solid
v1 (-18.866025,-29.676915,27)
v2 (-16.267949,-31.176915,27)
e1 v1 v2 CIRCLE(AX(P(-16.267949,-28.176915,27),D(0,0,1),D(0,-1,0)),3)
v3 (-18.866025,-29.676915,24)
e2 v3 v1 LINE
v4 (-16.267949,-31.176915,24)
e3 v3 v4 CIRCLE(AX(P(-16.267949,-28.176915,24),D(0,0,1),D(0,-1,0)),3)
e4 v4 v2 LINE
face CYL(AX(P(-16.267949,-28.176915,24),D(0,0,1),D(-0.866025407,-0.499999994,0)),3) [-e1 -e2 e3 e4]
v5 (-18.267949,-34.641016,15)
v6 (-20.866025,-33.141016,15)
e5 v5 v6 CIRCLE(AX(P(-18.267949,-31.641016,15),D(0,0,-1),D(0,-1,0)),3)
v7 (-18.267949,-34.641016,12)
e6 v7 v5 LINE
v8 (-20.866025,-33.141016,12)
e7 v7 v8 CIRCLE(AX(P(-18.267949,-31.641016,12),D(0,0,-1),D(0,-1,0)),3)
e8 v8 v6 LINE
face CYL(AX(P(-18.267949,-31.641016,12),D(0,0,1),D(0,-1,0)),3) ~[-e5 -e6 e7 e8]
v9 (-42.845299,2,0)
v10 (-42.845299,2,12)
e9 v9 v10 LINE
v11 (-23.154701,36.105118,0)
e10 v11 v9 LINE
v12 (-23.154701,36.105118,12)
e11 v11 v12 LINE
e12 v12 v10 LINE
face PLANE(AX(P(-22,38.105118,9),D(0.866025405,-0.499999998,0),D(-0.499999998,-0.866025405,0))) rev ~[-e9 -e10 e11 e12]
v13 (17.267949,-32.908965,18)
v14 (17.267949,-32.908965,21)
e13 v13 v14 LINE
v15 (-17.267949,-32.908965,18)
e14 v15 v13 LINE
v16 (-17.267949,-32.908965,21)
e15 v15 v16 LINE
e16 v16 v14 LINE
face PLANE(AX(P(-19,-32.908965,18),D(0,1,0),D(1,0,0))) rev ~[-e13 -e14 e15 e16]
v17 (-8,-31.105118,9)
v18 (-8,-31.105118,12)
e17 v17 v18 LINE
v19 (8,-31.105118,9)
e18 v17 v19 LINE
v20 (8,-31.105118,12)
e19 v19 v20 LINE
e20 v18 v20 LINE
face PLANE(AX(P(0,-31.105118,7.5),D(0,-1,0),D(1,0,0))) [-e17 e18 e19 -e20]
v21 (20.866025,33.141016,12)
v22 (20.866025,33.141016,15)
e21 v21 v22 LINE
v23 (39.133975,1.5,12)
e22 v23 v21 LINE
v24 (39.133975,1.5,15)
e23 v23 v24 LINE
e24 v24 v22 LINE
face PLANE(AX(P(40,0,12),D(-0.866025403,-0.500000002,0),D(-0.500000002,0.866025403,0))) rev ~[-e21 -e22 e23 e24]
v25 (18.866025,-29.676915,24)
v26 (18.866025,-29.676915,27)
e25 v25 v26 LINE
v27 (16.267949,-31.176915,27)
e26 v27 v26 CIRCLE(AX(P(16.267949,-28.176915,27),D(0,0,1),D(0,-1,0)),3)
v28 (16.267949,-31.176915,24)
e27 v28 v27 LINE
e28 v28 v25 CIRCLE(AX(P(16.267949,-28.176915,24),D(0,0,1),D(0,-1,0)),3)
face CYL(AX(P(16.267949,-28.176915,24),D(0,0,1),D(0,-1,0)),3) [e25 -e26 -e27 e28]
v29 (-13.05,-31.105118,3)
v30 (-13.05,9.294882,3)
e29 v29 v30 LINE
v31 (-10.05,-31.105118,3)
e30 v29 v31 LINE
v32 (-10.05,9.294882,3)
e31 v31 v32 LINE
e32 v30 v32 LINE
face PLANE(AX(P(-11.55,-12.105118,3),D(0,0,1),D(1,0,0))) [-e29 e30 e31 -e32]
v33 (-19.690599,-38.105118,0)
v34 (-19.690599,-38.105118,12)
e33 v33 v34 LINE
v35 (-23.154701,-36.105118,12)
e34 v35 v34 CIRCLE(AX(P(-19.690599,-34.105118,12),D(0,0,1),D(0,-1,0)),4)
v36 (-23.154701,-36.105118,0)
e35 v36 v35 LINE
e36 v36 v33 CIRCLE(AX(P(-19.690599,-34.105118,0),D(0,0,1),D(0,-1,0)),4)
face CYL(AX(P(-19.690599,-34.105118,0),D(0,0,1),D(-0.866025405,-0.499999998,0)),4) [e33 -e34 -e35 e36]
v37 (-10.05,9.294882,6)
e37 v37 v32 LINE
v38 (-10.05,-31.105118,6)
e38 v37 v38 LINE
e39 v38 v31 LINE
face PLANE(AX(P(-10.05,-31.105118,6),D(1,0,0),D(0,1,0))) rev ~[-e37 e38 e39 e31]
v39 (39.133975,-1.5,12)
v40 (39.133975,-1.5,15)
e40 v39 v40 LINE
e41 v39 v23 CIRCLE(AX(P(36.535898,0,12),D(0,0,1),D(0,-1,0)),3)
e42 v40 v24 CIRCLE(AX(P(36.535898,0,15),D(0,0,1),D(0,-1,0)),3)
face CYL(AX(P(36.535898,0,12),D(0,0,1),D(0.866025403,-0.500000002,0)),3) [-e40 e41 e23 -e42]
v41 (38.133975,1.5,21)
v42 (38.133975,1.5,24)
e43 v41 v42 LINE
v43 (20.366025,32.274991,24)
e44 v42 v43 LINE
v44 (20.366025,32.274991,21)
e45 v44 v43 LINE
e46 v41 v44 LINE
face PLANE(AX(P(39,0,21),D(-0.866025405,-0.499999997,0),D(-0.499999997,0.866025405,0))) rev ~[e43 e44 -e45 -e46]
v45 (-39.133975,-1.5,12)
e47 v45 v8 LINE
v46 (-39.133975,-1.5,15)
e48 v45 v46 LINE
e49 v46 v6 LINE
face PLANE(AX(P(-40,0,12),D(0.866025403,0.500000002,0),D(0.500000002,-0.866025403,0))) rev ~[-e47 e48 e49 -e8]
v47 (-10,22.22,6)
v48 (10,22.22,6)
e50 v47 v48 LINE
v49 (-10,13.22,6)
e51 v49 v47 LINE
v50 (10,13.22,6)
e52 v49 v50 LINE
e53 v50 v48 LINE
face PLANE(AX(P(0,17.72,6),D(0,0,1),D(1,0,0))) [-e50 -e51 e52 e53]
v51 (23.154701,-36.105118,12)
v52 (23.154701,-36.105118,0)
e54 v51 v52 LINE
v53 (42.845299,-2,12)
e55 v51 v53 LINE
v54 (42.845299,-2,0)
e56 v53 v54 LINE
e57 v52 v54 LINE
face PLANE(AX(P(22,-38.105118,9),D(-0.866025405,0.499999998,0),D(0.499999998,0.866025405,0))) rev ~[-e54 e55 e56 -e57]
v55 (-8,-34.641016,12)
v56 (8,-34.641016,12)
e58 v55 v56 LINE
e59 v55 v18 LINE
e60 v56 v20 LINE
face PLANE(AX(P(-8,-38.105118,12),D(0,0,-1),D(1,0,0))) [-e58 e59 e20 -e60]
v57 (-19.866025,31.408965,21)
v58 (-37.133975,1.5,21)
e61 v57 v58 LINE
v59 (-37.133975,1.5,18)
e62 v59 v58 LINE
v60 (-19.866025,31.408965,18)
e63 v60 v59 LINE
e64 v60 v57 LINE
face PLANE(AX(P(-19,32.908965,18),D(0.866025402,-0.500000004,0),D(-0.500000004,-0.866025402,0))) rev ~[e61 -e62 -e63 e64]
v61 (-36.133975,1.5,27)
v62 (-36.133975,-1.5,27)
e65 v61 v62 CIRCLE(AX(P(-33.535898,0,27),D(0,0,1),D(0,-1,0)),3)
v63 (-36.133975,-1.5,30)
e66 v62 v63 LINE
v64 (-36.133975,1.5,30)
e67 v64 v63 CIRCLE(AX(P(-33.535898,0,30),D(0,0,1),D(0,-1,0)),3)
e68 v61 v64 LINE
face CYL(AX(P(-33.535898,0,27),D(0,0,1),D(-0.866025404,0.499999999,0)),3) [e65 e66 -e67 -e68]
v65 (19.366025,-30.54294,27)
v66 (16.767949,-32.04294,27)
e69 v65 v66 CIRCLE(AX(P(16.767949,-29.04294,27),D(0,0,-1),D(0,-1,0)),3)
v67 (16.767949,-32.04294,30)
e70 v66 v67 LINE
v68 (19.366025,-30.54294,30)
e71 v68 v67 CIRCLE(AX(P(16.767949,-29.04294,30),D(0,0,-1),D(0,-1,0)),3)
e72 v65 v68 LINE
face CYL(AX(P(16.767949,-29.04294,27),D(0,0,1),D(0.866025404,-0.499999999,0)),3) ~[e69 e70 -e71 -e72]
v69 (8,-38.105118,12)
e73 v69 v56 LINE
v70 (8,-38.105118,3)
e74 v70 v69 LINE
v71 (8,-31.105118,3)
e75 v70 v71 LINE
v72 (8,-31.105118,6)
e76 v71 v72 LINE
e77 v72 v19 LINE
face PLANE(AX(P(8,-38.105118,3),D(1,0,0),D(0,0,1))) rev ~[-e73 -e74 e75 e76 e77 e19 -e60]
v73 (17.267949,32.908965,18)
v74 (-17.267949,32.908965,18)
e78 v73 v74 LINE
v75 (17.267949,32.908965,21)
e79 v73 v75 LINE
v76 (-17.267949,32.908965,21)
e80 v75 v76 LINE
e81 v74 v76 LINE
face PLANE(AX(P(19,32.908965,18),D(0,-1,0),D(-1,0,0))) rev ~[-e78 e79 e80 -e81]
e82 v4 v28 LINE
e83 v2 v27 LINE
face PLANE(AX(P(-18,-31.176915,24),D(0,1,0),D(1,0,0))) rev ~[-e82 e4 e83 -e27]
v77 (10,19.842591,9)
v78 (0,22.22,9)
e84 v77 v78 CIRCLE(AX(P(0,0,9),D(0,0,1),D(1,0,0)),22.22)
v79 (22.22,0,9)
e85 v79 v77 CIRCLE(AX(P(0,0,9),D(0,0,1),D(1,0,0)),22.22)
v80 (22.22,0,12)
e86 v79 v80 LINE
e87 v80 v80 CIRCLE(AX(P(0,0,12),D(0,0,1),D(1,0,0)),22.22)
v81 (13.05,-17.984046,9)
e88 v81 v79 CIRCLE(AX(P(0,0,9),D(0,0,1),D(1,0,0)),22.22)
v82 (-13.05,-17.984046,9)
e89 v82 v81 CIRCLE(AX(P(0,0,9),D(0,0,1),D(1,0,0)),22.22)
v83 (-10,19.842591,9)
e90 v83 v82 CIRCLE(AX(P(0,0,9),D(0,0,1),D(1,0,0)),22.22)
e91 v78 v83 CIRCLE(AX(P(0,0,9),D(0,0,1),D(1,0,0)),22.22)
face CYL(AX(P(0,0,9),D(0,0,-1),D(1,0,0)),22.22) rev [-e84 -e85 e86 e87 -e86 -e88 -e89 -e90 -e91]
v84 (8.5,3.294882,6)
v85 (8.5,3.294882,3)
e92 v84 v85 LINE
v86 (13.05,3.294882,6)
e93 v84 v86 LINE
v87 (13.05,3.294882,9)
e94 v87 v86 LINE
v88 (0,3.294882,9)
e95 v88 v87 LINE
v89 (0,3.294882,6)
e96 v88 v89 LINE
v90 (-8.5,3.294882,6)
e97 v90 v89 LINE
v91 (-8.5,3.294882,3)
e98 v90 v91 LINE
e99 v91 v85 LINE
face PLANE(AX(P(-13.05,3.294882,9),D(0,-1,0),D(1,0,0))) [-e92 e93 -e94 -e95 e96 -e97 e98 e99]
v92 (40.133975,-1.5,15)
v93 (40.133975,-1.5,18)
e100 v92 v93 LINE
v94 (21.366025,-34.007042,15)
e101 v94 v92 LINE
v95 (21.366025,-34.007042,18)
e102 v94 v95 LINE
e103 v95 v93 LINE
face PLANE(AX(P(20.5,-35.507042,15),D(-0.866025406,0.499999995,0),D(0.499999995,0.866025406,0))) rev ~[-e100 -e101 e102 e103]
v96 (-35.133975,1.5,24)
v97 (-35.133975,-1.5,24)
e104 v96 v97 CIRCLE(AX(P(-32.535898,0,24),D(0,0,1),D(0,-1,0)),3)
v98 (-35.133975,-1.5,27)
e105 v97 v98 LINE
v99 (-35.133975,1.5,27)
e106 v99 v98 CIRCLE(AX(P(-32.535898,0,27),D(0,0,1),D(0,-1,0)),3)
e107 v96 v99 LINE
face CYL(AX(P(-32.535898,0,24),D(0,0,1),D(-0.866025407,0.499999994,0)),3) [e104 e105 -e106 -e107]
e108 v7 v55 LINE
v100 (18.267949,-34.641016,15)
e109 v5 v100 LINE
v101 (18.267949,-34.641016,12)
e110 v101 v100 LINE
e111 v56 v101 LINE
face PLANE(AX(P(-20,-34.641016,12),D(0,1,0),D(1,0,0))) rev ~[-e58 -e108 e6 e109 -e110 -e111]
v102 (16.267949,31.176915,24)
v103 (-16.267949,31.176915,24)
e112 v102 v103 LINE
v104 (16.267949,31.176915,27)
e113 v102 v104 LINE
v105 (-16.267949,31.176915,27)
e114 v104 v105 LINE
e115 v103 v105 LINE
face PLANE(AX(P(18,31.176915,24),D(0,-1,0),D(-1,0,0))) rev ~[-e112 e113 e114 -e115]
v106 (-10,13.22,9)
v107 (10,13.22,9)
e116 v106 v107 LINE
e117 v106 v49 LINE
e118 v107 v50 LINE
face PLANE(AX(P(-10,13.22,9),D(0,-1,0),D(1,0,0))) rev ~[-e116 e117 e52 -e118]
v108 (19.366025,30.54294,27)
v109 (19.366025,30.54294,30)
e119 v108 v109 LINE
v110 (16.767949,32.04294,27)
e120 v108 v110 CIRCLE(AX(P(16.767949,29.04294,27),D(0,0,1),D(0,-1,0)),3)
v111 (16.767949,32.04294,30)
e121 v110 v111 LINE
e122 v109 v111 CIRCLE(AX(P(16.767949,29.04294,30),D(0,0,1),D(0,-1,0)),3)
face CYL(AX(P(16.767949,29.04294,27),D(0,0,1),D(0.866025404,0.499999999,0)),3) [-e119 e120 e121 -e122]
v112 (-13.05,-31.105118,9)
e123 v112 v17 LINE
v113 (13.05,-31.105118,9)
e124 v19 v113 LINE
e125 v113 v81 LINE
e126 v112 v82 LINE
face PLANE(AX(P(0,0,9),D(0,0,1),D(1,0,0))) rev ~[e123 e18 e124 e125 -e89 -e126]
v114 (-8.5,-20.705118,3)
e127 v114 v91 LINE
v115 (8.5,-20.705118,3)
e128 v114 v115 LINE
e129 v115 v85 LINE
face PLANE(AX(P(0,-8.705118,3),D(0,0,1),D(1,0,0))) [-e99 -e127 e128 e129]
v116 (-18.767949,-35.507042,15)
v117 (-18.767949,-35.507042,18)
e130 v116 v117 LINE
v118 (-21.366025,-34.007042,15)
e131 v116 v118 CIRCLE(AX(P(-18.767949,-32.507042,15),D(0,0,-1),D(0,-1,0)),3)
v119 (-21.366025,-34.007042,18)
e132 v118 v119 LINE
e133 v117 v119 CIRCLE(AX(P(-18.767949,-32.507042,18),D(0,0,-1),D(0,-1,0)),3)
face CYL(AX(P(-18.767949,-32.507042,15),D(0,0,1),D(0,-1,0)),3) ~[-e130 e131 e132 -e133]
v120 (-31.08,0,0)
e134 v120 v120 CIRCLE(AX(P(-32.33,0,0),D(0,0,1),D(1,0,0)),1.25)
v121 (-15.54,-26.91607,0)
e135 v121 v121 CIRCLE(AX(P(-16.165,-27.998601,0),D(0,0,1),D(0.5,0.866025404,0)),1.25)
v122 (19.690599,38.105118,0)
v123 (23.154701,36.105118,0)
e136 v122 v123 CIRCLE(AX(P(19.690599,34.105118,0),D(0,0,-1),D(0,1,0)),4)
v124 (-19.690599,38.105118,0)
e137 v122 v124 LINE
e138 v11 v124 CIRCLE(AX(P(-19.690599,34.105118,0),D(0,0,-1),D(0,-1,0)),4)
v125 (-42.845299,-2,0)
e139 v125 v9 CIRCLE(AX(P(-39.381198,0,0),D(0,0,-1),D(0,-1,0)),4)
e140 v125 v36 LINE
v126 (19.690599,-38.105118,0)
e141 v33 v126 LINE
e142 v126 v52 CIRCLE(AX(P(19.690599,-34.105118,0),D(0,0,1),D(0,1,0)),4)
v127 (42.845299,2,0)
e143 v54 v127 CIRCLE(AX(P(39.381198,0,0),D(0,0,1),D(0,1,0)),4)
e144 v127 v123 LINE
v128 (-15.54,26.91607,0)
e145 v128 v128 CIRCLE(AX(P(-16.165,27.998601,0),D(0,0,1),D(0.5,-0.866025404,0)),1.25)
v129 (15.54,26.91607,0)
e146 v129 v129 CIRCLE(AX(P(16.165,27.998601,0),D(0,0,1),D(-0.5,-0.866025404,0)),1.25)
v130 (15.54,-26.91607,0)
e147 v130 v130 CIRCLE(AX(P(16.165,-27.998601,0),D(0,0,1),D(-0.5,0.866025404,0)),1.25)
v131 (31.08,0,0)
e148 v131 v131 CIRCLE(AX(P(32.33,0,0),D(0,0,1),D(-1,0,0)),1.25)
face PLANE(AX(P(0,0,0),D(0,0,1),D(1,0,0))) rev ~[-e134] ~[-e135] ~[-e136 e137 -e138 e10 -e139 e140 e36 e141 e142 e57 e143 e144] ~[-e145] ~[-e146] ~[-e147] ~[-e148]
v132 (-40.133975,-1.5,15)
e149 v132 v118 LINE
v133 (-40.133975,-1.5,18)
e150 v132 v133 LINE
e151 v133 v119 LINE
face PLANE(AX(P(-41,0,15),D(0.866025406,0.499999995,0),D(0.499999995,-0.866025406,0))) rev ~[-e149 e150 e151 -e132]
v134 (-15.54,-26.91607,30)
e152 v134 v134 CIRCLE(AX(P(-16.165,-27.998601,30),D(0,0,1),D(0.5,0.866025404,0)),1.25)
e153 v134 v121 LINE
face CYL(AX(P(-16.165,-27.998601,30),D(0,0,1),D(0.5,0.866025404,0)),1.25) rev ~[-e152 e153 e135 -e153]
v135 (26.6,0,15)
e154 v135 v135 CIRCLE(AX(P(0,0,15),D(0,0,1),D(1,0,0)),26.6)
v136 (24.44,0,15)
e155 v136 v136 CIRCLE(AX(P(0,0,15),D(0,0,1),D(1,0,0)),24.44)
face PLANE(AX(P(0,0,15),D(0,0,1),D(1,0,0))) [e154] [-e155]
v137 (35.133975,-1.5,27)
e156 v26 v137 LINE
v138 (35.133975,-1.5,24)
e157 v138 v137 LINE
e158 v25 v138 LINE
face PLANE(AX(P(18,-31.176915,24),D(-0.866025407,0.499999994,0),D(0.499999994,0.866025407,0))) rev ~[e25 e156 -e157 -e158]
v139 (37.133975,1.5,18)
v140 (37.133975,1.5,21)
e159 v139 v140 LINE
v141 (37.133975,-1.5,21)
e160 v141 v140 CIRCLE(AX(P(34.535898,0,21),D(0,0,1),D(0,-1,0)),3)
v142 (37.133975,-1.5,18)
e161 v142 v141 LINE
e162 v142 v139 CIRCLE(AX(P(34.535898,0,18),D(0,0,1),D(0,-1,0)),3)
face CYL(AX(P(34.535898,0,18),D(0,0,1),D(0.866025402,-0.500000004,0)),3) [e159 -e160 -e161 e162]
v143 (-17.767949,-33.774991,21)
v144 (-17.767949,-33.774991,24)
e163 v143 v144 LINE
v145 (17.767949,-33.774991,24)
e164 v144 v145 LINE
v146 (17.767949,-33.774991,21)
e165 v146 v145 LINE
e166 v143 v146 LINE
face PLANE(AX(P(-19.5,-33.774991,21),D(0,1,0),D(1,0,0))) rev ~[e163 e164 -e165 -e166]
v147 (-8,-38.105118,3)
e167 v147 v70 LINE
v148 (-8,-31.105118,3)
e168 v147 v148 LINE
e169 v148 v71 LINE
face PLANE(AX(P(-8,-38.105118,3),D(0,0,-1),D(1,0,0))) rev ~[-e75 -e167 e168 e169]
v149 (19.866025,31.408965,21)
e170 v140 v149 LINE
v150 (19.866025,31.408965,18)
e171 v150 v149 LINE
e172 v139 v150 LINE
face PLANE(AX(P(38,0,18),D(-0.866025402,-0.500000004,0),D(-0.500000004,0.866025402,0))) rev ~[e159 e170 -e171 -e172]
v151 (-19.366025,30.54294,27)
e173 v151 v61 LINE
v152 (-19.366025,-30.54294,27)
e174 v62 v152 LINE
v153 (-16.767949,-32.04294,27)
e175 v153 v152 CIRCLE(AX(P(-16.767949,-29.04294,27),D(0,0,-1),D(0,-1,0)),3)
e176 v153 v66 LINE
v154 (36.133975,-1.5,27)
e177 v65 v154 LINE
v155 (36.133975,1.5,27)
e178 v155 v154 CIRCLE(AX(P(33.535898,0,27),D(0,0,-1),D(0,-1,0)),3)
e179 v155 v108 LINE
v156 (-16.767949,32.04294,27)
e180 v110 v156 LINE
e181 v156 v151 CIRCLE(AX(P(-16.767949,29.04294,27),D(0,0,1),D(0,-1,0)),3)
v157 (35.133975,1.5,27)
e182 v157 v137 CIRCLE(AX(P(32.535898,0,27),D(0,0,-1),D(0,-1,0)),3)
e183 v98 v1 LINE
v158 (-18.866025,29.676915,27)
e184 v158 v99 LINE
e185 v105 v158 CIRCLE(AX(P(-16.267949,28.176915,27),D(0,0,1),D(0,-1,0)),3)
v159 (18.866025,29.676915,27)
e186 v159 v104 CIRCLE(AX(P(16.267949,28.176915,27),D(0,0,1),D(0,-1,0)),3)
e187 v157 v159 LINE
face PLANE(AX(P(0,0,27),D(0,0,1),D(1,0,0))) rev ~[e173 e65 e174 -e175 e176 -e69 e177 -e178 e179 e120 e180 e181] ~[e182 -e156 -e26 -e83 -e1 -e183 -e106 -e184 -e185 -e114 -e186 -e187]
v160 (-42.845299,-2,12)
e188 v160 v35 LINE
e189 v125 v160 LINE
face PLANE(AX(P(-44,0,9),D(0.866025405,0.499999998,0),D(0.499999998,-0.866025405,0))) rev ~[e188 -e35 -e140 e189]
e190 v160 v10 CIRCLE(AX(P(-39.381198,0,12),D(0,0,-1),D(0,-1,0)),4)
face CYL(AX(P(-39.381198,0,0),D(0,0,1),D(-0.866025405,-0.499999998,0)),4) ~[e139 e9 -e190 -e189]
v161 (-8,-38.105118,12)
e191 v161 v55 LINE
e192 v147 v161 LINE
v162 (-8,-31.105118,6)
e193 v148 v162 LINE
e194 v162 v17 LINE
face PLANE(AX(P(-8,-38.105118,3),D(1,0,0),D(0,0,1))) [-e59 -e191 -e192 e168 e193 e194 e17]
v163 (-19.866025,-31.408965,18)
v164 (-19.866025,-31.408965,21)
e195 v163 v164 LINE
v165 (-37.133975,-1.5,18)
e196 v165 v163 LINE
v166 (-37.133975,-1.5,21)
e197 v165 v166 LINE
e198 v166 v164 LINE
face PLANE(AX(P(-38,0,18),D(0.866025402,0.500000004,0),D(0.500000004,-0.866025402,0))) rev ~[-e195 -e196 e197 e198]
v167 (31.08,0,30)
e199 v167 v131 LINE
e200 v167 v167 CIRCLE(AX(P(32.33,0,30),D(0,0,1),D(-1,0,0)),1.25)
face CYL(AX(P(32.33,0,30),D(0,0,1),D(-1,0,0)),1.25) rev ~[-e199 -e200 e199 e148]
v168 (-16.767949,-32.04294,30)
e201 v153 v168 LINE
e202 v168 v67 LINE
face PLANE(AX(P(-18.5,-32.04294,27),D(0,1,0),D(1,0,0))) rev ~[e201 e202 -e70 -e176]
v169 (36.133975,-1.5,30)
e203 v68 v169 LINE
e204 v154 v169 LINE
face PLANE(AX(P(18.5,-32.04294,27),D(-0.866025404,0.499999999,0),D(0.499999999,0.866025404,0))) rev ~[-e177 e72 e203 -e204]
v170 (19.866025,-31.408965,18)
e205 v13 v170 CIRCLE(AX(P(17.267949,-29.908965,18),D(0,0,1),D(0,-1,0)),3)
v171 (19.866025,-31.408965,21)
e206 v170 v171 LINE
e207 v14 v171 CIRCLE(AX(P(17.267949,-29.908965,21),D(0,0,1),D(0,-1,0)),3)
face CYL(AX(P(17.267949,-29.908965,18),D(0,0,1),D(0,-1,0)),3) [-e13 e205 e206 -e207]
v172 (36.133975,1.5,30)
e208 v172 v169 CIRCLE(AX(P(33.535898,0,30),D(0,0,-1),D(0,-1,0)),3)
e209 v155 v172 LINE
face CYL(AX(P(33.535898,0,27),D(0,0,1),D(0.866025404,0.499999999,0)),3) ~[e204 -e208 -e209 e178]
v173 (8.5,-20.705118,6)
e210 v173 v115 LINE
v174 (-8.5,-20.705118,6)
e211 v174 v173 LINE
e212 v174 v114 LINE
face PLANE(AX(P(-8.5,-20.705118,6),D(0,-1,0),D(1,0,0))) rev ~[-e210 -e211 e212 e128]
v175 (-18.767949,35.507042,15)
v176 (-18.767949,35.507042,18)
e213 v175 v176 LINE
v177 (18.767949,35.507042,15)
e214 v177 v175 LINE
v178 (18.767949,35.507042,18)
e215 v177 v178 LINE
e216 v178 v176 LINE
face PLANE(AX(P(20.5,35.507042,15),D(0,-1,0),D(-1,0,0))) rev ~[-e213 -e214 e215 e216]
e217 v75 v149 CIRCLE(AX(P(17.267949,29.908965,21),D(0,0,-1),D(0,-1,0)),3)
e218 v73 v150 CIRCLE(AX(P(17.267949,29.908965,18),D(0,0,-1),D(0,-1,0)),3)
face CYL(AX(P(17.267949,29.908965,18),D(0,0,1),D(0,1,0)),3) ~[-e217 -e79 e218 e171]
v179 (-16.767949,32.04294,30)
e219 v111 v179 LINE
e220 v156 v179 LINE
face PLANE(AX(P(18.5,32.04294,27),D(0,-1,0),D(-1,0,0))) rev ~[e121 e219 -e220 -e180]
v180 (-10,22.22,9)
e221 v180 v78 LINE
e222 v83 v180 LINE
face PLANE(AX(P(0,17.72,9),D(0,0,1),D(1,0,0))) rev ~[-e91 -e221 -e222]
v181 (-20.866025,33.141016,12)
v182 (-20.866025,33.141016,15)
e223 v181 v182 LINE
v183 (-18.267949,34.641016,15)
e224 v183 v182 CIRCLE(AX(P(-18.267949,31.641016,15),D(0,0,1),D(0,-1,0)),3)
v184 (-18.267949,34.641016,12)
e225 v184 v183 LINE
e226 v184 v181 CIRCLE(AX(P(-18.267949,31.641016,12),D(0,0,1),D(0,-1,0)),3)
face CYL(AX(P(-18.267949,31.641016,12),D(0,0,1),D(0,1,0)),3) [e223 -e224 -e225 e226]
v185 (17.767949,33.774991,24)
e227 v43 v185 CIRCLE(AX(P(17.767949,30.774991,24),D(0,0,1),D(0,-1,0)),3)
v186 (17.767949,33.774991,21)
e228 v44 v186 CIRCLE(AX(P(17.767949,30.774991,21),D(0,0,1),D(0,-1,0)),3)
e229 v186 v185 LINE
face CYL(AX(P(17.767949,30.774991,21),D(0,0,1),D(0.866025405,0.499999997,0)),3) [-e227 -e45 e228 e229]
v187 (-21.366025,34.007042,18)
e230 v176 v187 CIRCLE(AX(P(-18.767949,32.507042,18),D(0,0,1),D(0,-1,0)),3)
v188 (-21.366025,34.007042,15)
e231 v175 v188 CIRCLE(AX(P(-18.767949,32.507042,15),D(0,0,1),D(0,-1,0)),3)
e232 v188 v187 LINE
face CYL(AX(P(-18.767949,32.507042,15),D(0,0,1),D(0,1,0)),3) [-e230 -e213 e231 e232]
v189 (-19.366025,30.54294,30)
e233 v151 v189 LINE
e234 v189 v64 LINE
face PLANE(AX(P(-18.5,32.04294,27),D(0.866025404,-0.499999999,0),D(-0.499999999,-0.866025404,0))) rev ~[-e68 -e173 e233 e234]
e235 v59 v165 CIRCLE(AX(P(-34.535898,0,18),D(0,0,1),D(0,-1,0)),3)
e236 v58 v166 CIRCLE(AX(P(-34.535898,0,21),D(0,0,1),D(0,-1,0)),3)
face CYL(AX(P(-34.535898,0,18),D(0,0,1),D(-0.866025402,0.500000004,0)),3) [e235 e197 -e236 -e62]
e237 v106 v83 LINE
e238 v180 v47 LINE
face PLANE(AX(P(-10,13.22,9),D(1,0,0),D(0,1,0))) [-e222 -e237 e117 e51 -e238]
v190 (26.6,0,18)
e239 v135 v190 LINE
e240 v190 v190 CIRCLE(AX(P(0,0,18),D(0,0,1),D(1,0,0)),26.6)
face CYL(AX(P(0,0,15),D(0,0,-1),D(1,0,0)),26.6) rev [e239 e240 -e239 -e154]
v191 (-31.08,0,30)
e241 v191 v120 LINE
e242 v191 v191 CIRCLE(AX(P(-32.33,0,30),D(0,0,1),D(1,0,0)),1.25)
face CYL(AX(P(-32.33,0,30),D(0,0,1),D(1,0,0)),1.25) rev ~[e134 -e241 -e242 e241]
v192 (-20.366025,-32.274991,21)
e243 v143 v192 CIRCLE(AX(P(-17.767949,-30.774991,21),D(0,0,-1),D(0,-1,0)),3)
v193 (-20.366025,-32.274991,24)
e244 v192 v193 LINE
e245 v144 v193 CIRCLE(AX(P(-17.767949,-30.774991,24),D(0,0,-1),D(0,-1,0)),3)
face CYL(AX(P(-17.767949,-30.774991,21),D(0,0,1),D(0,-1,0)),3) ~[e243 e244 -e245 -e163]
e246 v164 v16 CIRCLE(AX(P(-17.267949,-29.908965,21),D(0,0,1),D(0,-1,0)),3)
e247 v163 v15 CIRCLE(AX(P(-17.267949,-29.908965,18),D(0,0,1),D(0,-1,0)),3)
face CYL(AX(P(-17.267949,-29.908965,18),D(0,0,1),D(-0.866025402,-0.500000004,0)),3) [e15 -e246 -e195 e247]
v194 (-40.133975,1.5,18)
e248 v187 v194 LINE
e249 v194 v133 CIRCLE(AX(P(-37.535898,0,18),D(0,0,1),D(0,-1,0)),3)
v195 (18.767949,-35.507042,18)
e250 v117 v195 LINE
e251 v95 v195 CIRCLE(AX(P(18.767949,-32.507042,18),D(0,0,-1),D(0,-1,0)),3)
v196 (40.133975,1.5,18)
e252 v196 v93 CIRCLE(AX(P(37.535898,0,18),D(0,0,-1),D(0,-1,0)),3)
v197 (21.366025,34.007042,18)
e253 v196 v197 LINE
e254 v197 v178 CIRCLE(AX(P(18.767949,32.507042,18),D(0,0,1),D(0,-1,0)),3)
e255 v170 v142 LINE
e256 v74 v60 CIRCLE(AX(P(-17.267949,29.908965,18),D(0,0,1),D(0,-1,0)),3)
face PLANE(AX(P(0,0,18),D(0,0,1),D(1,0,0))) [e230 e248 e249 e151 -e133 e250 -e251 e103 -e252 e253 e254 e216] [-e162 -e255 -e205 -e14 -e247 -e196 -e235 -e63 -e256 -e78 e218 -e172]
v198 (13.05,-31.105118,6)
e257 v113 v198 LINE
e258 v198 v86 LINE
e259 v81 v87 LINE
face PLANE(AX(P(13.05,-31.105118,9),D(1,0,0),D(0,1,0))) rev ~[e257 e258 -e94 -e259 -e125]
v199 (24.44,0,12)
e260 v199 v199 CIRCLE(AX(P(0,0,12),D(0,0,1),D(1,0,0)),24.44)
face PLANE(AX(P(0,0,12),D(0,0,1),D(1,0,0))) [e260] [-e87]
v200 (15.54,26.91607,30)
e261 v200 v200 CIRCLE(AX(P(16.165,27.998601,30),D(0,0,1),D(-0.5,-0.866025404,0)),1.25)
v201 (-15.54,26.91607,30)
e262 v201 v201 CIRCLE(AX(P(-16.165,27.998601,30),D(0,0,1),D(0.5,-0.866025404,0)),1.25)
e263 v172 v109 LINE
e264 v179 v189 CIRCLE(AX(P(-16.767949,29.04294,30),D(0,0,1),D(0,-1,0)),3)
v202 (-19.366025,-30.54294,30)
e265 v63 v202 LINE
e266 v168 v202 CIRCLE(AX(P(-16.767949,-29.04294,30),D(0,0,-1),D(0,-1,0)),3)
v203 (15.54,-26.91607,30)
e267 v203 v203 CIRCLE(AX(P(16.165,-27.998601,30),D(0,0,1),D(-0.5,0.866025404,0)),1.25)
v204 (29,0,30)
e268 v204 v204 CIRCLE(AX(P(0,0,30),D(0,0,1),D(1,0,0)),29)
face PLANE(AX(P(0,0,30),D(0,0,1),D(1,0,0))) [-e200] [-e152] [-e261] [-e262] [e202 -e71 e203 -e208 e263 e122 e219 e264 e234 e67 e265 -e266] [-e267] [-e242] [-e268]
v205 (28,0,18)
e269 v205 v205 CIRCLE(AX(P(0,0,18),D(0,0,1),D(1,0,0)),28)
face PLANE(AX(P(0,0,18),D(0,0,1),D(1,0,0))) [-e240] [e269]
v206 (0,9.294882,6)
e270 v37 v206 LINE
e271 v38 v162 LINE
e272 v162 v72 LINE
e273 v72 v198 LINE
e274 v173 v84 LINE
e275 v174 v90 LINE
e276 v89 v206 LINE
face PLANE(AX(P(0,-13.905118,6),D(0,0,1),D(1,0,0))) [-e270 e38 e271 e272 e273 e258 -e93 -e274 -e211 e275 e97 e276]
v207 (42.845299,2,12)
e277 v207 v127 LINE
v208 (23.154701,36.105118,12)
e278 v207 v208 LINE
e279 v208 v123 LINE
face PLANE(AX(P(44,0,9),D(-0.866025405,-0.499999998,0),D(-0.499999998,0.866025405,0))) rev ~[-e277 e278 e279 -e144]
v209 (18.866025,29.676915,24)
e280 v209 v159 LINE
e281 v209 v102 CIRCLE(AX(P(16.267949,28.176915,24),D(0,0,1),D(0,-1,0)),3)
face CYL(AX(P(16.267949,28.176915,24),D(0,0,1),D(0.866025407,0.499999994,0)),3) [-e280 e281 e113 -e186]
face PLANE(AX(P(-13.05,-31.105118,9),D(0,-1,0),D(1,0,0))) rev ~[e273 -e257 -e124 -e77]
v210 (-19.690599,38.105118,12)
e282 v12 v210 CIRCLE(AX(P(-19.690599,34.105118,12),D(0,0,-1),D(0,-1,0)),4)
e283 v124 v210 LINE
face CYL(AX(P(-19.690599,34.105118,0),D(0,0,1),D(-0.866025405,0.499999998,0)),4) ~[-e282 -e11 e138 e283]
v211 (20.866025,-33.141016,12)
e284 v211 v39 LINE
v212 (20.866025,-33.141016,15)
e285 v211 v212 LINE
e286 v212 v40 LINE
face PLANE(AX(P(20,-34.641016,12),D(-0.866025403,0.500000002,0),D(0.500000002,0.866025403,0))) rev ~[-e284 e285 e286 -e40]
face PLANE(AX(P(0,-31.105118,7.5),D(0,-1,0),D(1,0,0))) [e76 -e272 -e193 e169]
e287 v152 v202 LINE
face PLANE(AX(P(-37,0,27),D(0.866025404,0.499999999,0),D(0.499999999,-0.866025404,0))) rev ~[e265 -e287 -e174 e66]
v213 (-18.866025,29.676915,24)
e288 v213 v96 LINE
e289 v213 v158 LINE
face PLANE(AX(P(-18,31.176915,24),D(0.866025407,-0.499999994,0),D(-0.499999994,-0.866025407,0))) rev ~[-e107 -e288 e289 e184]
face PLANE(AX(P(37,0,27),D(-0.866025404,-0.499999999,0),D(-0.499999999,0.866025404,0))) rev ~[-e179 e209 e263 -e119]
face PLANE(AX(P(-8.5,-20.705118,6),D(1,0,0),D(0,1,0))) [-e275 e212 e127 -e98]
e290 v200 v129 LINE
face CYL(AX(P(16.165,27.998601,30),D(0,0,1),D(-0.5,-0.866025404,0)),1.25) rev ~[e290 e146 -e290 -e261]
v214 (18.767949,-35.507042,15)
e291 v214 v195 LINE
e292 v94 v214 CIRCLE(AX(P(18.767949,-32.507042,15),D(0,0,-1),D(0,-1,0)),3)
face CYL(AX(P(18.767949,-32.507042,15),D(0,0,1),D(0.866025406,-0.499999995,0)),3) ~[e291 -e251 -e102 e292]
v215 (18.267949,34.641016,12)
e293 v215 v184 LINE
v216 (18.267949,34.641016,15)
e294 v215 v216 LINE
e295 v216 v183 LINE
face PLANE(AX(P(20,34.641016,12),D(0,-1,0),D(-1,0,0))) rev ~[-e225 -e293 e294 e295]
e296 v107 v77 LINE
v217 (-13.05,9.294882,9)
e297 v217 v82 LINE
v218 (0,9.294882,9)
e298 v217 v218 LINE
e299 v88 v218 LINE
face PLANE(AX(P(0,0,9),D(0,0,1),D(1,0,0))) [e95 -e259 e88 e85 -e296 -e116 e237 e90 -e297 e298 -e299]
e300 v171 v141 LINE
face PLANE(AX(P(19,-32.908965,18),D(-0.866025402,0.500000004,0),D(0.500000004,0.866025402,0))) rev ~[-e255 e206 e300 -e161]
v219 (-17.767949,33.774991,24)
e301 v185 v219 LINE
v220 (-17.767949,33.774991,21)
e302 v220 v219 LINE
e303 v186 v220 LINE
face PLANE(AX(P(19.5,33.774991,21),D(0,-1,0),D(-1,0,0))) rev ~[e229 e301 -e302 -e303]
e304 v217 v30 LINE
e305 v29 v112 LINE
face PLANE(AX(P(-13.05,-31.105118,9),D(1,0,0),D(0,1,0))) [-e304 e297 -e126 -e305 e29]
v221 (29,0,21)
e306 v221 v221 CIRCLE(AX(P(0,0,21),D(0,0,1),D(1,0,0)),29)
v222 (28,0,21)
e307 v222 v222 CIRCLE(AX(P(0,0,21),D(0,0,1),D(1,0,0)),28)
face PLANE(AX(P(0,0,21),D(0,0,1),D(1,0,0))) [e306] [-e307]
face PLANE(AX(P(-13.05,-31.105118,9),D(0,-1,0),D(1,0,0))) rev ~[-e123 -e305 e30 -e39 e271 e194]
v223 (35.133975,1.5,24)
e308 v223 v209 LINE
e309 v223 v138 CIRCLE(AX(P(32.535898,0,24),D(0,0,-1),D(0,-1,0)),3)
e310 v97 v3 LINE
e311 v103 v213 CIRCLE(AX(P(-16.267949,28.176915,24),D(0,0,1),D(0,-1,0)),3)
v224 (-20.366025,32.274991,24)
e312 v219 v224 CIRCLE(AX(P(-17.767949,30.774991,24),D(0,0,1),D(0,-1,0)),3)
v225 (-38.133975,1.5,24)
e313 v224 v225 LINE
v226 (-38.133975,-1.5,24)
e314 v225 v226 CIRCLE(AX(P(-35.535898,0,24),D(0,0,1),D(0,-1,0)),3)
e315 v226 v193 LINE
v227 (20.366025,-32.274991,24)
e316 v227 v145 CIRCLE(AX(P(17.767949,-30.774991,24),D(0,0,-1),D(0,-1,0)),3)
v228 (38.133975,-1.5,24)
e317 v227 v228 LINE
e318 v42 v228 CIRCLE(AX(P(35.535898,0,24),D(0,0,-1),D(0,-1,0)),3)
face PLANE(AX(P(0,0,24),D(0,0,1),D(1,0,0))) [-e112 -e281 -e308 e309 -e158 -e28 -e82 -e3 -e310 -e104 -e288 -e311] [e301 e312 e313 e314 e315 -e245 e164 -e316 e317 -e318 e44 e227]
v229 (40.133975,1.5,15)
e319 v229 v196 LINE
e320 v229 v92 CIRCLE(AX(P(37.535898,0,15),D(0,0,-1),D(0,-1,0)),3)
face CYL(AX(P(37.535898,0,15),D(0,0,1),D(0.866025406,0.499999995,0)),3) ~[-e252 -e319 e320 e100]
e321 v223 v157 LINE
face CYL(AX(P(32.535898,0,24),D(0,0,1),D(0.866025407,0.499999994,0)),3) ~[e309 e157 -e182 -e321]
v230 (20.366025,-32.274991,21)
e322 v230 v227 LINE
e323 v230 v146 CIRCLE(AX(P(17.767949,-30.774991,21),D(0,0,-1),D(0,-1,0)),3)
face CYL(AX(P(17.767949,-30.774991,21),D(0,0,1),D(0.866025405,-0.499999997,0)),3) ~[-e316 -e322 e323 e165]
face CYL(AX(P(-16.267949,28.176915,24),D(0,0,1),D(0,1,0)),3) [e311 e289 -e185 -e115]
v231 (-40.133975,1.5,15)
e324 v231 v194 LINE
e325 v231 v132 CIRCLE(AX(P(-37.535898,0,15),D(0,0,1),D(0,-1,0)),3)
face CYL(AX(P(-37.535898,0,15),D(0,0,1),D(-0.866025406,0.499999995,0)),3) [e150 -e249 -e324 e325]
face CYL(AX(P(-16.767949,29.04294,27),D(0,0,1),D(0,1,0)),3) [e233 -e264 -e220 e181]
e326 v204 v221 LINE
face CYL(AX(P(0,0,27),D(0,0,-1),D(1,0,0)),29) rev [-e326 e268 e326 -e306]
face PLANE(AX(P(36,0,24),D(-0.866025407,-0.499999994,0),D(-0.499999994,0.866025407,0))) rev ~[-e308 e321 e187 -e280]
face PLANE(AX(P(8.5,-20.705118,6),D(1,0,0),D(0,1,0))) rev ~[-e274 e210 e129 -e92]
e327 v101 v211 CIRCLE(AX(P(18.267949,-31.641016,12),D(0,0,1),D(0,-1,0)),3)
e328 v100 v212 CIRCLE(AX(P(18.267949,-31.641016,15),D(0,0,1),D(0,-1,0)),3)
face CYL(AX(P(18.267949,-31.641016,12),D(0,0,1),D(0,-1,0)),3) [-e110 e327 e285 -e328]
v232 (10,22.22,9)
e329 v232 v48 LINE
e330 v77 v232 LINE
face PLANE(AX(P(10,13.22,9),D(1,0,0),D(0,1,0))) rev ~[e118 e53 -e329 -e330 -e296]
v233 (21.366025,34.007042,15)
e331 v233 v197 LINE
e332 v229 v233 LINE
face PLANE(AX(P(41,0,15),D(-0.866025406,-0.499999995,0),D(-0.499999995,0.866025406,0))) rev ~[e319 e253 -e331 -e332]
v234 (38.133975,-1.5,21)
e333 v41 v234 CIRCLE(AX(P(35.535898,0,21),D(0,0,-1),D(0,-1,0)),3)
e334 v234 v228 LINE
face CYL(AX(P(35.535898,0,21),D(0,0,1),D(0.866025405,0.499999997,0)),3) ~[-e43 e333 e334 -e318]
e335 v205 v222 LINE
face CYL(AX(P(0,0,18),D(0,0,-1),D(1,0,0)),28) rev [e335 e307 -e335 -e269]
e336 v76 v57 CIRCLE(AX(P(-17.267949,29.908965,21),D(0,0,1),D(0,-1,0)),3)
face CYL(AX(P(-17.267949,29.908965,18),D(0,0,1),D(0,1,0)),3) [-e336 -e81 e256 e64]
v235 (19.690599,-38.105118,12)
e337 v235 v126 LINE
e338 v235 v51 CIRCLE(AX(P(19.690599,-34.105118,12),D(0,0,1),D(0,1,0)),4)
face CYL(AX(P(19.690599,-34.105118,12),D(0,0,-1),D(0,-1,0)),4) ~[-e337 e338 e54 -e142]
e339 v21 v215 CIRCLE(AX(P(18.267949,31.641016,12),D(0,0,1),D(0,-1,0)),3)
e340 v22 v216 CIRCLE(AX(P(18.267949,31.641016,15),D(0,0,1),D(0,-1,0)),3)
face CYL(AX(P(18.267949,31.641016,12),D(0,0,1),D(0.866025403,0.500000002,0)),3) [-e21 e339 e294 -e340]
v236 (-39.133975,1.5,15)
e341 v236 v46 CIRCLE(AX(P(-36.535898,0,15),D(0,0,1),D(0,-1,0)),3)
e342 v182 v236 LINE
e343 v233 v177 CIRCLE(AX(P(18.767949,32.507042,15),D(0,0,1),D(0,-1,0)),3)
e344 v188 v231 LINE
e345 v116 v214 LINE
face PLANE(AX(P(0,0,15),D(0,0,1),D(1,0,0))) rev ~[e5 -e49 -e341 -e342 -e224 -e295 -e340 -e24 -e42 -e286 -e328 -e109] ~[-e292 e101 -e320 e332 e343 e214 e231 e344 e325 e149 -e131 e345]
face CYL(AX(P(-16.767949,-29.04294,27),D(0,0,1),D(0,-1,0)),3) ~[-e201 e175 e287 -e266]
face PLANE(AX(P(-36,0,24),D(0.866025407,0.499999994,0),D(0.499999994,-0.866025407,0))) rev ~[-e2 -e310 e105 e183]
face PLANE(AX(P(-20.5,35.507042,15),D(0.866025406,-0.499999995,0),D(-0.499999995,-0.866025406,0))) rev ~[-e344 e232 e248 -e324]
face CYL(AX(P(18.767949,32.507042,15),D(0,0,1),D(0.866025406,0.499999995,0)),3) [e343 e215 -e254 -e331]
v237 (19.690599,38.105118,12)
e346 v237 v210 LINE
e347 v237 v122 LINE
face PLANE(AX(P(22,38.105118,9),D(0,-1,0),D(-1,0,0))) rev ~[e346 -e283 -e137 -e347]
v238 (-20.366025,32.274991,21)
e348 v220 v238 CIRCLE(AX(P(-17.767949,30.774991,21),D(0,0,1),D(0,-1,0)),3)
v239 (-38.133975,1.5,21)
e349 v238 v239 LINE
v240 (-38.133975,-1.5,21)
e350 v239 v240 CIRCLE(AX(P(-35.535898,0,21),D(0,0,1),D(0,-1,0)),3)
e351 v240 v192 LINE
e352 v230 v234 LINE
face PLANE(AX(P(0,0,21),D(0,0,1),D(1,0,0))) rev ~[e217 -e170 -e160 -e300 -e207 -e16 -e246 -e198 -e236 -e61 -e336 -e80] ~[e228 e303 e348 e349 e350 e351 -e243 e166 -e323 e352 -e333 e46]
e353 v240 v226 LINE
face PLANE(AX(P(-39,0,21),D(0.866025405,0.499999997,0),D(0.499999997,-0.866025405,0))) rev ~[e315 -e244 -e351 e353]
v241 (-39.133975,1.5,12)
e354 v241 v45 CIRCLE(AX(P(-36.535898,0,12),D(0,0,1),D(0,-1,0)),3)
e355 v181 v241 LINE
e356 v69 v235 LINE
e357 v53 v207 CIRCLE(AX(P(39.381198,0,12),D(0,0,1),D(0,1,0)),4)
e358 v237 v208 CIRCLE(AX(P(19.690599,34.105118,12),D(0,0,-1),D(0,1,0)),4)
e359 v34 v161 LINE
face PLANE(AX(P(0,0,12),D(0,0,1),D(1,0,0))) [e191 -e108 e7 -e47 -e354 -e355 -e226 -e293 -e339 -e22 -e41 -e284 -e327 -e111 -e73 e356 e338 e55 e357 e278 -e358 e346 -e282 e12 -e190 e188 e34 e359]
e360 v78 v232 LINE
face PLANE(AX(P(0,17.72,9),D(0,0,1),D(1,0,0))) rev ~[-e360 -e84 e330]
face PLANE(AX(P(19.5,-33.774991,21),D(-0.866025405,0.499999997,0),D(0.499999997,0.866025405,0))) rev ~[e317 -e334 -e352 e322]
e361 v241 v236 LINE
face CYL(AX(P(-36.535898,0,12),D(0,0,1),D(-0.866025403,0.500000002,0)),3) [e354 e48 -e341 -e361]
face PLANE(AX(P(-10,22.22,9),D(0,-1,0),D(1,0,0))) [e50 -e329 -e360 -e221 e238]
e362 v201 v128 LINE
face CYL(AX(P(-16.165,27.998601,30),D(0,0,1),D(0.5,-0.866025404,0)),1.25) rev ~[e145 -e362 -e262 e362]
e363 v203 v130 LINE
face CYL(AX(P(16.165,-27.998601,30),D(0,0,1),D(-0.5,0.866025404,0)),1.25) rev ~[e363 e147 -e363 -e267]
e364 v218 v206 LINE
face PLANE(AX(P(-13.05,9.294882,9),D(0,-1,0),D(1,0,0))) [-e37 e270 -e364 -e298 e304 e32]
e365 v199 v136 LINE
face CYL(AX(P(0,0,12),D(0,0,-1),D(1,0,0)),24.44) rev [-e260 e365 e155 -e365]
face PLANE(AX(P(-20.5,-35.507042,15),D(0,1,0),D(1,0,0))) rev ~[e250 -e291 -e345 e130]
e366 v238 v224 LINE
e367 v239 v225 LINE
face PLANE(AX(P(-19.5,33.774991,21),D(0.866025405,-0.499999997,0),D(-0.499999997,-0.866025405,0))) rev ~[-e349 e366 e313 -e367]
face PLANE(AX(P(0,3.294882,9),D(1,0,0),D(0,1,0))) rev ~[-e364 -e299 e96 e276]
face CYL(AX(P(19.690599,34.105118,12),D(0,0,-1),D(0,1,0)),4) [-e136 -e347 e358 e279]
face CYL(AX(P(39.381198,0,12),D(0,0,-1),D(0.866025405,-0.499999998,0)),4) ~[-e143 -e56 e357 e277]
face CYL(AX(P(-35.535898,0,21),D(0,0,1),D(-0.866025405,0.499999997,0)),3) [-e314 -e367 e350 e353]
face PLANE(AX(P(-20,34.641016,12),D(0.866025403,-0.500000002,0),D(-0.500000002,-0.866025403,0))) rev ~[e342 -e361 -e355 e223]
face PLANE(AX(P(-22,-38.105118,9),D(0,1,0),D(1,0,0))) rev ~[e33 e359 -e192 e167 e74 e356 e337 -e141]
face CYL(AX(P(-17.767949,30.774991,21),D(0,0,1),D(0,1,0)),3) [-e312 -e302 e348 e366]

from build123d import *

# Parameters (mm, degrees)
PAD_DEPTH          = 9
SKETCH001_W        = 26.1
SKETCH001_H        = 34.4
POCKET_DEPTH       = 3
SKETCH002_R        = 22.22
PAD001_DEPTH       = 3
SKETCH003_R        = 24.44
PAD002_DEPTH       = 3
SKETCH004_R        = 26.6
PAD003_DEPTH       = 3
SKETCH005_R        = 28
PAD004_DEPTH       = 3
SKETCH006_R        = 29
PAD005_DEPTH       = 3
SKETCH007_R        = 29
PAD006_DEPTH       = 3
SKETCH008_R        = 29
PAD007_DEPTH       = 3
SKETCH009_W        = 17
SKETCH009_H        = 24
POCKET001_DEPTH    = 3
SKETCH010_W        = 16
SKETCH010_H        = 9
POCKET002_DEPTH    = 7
SKETCH011_W        = 20
SKETCH011_H        = 9
POCKET003_DEPTH    = 3
SKETCH012_R        = 1.25
POCKET004_DEPTH    = 270.433943
POLARPATTERN_COUNT = 6
SKETCH013_W        = 3
SKETCH013_H        = 38
POCKET005_DEPTH    = 3
SKETCH014_W        = 3
SKETCH014_H        = 6
POCKET006_DEPTH    = 6
SKETCH015_W        = 10.05
SKETCH015_H        = 6
POCKET007_DEPTH    = 3
FILLET_R           = 4
FILLET001_R        = 3
FILLET002_R        = 3
FILLET003_R        = 3
FILLET004_R        = 3


with BuildPart() as part:
    # Sketch → Pad (new body)
    with BuildSketch(Plane.XY):
        Polygon((44, 0), (22, 38.105118), (-22, 38.105118), (-44, 0), (-22, -38.105118), (22, -38.105118), align=None)
    extrude(amount=PAD_DEPTH)

    # Sketch001 (on Face8 of Pad) → Pocket (cut)
    with BuildSketch(Plane.XY.offset(9)):
        with Locations((0, -13.905118)):
            Rectangle(SKETCH001_W, SKETCH001_H)
    extrude(amount=-POCKET_DEPTH, mode=Mode.SUBTRACT)

    # Sketch002 (on Face5 of Pocket) → Pad001 (join)
    with BuildSketch(Plane.XY.offset(9)):
        Polygon((22, 38.105118), (-22, 38.105118), (-44, 0), (-22, -38.105118), (22, -38.105118), (44, 0), align=None)
        Circle(SKETCH002_R, mode=Mode.SUBTRACT)
    extrude(amount=PAD001_DEPTH)

    # Sketch003 (on Face14 of Pad001) → Pad002 (join)
    with BuildSketch(Plane.XY.offset(12)):
        Polygon((40, 0), (20, 34.641016), (-20, 34.641016), (-40, 0), (-20, -34.641016), (20, -34.641016), align=None)
        Circle(SKETCH003_R, mode=Mode.SUBTRACT)
    extrude(amount=PAD002_DEPTH)

    # Sketch004 (on Face21 of Pad002) → Pad003 (join)
    with BuildSketch(Plane.XY.offset(15)):
        Polygon((41, 0), (20.5, 35.507042), (-20.5, 35.507042), (-41, 0), (-20.5, -35.507042), (20.5, -35.507042), align=None)
        Circle(SKETCH004_R, mode=Mode.SUBTRACT)
    extrude(amount=PAD003_DEPTH)

    # Sketch005 (on Face28 of Pad003) → Pad004 (join)
    with BuildSketch(Plane.XY.offset(18)):
        Polygon((19, 32.908965), (-19, 32.908965), (-38, 0), (-19, -32.908965), (19, -32.908965), (38, 0), align=None)
        Circle(SKETCH005_R, mode=Mode.SUBTRACT)
    extrude(amount=PAD004_DEPTH)

    # Sketch006 (on Face35 of Pad004) → Pad005 (join)
    with BuildSketch(Plane.XY.offset(21)):
        Polygon((39, 0), (19.5, 33.774991), (-19.5, 33.774991), (-39, 0), (-19.5, -33.774991), (19.5, -33.774991), align=None)
        Circle(SKETCH006_R, mode=Mode.SUBTRACT)
    extrude(amount=PAD005_DEPTH)

    # Sketch007 (on Face42 of Pad005) → Pad006 (join)
    with BuildSketch(Plane.XY.offset(24)):
        Polygon((36, 0), (18, 31.176915), (-18, 31.176915), (-36, 0), (-18, -31.176915), (18, -31.176915), align=None)
        Circle(SKETCH007_R, mode=Mode.SUBTRACT)
    extrude(amount=PAD006_DEPTH)

    # Sketch008 (on Face49 of Pad006) → Pad007 (join)
    with BuildSketch(Plane.XY.offset(27)):
        Polygon((37, 0), (18.5, 32.04294), (-18.5, 32.04294), (-37, 0), (-18.5, -32.04294), (18.5, -32.04294), align=None)
        Circle(SKETCH008_R, mode=Mode.SUBTRACT)
    extrude(amount=PAD007_DEPTH)

    # Sketch009 (on Face74 of Pad007) → Pocket001 (cut)
    with BuildSketch(Plane.XY.offset(6)):
        with Locations((0, -8.705118)):
            Rectangle(SKETCH009_W, SKETCH009_H)
    extrude(amount=-POCKET001_DEPTH, mode=Mode.SUBTRACT)

    # Sketch010 (on Face12 of Pocket001) → Pocket002 (cut)
    with BuildSketch(Plane.XZ.offset(38.105118)):
        with Locations((0, 7.5)):
            Rectangle(SKETCH010_W, SKETCH010_H)
    extrude(amount=-POCKET002_DEPTH, mode=Mode.SUBTRACT)

    # Sketch011 (on Face40 of Pocket002) → Pocket003 (cut)
    with BuildSketch(Plane.XY.offset(9)):
        with Locations((0, 17.72)):
            Rectangle(SKETCH011_W, SKETCH011_H)
    extrude(amount=-POCKET003_DEPTH, mode=Mode.SUBTRACT)

    # Sketch012 (on Face93 of Pocket003) → Pocket004 (cut, through all)
    with BuildSketch(Plane.XY.offset(30)):
        with Locations((-32.33, 0)):
            Circle(SKETCH012_R)
    pocket004 = extrude(amount=-POCKET004_DEPTH, mode=Mode.SUBTRACT)

    # PolarPattern: Pocket004 ×6 about axis
    polarpattern_axis = Axis((0, 0, 30), (0, 0, 1))
    for i in range(1, POLARPATTERN_COUNT):
        add(pocket004.rotate(polarpattern_axis, i * 360 / POLARPATTERN_COUNT), mode=Mode.SUBTRACT)

    # Sketch013 (on Face45 of PolarPattern) → Pocket005 (cut)
    with BuildSketch(Plane.XY.offset(6)):
        with Locations((-11.55, -12.105118)):
            Rectangle(SKETCH013_W, SKETCH013_H)
    extrude(amount=-POCKET005_DEPTH, mode=Mode.SUBTRACT)

    # Sketch014 (on Face58 of Pocket005) → Pocket006 (cut)
    with BuildSketch(Plane.XY.offset(9)):
        with Locations((-11.55, 6.294882)):
            Rectangle(SKETCH014_W, SKETCH014_H)
    extrude(amount=-POCKET006_DEPTH, mode=Mode.SUBTRACT)

    # Sketch015 (on Face58 of Pocket006) → Pocket007 (cut)
    with BuildSketch(Plane.XY.offset(9)):
        with Locations((-5.025, 6.294882)):
            Rectangle(SKETCH015_W, SKETCH015_H)
    extrude(amount=-POCKET007_DEPTH, mode=Mode.SUBTRACT)

    # Fillet
    fillet_edges = [part.edges().sort_by_distance(p)[0] for p in [
        (22, -38.105118, 4.5),
        (44, 0, 4.5),
        (22, 38.105118, 4.5),
        (-22, 38.105118, 4.5),
        (-44, 0, 4.5),
        (-22, -38.105118, 4.5),
    ]]
    fillet(fillet_edges, radius=FILLET_R)

    # Fillet001
    fillet001_edges = [part.edges().sort_by_distance(p)[0] for p in [
        (20.5, -35.507042, 16.5),
        (41, 0, 16.5),
        (20.5, 35.507042, 16.5),
        (-20.5, 35.507042, 16.5),
        (-41, 0, 16.5),
        (-20.5, -35.507042, 16.5),
    ]]
    fillet(fillet001_edges, radius=FILLET001_R)

    # Fillet002
    fillet002_edges = [part.edges().sort_by_distance(p)[0] for p in [
        (19.5, -33.774991, 22.5),
        (-19.5, -33.774991, 22.5),
        (-39, 0, 22.5),
        (-19.5, 33.774991, 22.5),
        (19.5, 33.774991, 22.5),
        (39, 0, 22.5),
    ]]
    fillet(fillet002_edges, radius=FILLET002_R)

    # Fillet003
    fillet003_edges = [part.edges().sort_by_distance(p)[0] for p in [
        (-18.5, -32.04294, 28.5),
        (18.5, -32.04294, 28.5),
        (37, 0, 28.5),
        (-37, 0, 28.5),
        (18.5, 32.04294, 28.5),
        (-18.5, 32.04294, 28.5),
    ]]
    fillet(fillet003_edges, radius=FILLET003_R)

    # Fillet004
    fillet004_edges = [part.edges().sort_by_distance(p)[0] for p in [
        (-20, -34.641016, 13.5),
        (20, -34.641016, 13.5),
        (40, 0, 13.5),
        (-40, 0, 13.5),
        (-38, 0, 19.5),
        (-19, -32.908965, 19.5),
        (19, -32.908965, 19.5),
        (38, 0, 19.5),
        (36, 0, 25.5),
        (18, -31.176915, 25.5),
        (-18, -31.176915, 25.5),
        (-36, 0, 25.5),
        (18, 31.176915, 25.5),
        (-18, 31.176915, 25.5),
        (-19, 32.908965, 19.5),
        (-20, 34.641016, 13.5),
        (20, 34.641016, 13.5),
        (19, 32.908965, 19.5),
    ]]
    fillet(fillet004_edges, radius=FILLET004_R)


solid = part.part
